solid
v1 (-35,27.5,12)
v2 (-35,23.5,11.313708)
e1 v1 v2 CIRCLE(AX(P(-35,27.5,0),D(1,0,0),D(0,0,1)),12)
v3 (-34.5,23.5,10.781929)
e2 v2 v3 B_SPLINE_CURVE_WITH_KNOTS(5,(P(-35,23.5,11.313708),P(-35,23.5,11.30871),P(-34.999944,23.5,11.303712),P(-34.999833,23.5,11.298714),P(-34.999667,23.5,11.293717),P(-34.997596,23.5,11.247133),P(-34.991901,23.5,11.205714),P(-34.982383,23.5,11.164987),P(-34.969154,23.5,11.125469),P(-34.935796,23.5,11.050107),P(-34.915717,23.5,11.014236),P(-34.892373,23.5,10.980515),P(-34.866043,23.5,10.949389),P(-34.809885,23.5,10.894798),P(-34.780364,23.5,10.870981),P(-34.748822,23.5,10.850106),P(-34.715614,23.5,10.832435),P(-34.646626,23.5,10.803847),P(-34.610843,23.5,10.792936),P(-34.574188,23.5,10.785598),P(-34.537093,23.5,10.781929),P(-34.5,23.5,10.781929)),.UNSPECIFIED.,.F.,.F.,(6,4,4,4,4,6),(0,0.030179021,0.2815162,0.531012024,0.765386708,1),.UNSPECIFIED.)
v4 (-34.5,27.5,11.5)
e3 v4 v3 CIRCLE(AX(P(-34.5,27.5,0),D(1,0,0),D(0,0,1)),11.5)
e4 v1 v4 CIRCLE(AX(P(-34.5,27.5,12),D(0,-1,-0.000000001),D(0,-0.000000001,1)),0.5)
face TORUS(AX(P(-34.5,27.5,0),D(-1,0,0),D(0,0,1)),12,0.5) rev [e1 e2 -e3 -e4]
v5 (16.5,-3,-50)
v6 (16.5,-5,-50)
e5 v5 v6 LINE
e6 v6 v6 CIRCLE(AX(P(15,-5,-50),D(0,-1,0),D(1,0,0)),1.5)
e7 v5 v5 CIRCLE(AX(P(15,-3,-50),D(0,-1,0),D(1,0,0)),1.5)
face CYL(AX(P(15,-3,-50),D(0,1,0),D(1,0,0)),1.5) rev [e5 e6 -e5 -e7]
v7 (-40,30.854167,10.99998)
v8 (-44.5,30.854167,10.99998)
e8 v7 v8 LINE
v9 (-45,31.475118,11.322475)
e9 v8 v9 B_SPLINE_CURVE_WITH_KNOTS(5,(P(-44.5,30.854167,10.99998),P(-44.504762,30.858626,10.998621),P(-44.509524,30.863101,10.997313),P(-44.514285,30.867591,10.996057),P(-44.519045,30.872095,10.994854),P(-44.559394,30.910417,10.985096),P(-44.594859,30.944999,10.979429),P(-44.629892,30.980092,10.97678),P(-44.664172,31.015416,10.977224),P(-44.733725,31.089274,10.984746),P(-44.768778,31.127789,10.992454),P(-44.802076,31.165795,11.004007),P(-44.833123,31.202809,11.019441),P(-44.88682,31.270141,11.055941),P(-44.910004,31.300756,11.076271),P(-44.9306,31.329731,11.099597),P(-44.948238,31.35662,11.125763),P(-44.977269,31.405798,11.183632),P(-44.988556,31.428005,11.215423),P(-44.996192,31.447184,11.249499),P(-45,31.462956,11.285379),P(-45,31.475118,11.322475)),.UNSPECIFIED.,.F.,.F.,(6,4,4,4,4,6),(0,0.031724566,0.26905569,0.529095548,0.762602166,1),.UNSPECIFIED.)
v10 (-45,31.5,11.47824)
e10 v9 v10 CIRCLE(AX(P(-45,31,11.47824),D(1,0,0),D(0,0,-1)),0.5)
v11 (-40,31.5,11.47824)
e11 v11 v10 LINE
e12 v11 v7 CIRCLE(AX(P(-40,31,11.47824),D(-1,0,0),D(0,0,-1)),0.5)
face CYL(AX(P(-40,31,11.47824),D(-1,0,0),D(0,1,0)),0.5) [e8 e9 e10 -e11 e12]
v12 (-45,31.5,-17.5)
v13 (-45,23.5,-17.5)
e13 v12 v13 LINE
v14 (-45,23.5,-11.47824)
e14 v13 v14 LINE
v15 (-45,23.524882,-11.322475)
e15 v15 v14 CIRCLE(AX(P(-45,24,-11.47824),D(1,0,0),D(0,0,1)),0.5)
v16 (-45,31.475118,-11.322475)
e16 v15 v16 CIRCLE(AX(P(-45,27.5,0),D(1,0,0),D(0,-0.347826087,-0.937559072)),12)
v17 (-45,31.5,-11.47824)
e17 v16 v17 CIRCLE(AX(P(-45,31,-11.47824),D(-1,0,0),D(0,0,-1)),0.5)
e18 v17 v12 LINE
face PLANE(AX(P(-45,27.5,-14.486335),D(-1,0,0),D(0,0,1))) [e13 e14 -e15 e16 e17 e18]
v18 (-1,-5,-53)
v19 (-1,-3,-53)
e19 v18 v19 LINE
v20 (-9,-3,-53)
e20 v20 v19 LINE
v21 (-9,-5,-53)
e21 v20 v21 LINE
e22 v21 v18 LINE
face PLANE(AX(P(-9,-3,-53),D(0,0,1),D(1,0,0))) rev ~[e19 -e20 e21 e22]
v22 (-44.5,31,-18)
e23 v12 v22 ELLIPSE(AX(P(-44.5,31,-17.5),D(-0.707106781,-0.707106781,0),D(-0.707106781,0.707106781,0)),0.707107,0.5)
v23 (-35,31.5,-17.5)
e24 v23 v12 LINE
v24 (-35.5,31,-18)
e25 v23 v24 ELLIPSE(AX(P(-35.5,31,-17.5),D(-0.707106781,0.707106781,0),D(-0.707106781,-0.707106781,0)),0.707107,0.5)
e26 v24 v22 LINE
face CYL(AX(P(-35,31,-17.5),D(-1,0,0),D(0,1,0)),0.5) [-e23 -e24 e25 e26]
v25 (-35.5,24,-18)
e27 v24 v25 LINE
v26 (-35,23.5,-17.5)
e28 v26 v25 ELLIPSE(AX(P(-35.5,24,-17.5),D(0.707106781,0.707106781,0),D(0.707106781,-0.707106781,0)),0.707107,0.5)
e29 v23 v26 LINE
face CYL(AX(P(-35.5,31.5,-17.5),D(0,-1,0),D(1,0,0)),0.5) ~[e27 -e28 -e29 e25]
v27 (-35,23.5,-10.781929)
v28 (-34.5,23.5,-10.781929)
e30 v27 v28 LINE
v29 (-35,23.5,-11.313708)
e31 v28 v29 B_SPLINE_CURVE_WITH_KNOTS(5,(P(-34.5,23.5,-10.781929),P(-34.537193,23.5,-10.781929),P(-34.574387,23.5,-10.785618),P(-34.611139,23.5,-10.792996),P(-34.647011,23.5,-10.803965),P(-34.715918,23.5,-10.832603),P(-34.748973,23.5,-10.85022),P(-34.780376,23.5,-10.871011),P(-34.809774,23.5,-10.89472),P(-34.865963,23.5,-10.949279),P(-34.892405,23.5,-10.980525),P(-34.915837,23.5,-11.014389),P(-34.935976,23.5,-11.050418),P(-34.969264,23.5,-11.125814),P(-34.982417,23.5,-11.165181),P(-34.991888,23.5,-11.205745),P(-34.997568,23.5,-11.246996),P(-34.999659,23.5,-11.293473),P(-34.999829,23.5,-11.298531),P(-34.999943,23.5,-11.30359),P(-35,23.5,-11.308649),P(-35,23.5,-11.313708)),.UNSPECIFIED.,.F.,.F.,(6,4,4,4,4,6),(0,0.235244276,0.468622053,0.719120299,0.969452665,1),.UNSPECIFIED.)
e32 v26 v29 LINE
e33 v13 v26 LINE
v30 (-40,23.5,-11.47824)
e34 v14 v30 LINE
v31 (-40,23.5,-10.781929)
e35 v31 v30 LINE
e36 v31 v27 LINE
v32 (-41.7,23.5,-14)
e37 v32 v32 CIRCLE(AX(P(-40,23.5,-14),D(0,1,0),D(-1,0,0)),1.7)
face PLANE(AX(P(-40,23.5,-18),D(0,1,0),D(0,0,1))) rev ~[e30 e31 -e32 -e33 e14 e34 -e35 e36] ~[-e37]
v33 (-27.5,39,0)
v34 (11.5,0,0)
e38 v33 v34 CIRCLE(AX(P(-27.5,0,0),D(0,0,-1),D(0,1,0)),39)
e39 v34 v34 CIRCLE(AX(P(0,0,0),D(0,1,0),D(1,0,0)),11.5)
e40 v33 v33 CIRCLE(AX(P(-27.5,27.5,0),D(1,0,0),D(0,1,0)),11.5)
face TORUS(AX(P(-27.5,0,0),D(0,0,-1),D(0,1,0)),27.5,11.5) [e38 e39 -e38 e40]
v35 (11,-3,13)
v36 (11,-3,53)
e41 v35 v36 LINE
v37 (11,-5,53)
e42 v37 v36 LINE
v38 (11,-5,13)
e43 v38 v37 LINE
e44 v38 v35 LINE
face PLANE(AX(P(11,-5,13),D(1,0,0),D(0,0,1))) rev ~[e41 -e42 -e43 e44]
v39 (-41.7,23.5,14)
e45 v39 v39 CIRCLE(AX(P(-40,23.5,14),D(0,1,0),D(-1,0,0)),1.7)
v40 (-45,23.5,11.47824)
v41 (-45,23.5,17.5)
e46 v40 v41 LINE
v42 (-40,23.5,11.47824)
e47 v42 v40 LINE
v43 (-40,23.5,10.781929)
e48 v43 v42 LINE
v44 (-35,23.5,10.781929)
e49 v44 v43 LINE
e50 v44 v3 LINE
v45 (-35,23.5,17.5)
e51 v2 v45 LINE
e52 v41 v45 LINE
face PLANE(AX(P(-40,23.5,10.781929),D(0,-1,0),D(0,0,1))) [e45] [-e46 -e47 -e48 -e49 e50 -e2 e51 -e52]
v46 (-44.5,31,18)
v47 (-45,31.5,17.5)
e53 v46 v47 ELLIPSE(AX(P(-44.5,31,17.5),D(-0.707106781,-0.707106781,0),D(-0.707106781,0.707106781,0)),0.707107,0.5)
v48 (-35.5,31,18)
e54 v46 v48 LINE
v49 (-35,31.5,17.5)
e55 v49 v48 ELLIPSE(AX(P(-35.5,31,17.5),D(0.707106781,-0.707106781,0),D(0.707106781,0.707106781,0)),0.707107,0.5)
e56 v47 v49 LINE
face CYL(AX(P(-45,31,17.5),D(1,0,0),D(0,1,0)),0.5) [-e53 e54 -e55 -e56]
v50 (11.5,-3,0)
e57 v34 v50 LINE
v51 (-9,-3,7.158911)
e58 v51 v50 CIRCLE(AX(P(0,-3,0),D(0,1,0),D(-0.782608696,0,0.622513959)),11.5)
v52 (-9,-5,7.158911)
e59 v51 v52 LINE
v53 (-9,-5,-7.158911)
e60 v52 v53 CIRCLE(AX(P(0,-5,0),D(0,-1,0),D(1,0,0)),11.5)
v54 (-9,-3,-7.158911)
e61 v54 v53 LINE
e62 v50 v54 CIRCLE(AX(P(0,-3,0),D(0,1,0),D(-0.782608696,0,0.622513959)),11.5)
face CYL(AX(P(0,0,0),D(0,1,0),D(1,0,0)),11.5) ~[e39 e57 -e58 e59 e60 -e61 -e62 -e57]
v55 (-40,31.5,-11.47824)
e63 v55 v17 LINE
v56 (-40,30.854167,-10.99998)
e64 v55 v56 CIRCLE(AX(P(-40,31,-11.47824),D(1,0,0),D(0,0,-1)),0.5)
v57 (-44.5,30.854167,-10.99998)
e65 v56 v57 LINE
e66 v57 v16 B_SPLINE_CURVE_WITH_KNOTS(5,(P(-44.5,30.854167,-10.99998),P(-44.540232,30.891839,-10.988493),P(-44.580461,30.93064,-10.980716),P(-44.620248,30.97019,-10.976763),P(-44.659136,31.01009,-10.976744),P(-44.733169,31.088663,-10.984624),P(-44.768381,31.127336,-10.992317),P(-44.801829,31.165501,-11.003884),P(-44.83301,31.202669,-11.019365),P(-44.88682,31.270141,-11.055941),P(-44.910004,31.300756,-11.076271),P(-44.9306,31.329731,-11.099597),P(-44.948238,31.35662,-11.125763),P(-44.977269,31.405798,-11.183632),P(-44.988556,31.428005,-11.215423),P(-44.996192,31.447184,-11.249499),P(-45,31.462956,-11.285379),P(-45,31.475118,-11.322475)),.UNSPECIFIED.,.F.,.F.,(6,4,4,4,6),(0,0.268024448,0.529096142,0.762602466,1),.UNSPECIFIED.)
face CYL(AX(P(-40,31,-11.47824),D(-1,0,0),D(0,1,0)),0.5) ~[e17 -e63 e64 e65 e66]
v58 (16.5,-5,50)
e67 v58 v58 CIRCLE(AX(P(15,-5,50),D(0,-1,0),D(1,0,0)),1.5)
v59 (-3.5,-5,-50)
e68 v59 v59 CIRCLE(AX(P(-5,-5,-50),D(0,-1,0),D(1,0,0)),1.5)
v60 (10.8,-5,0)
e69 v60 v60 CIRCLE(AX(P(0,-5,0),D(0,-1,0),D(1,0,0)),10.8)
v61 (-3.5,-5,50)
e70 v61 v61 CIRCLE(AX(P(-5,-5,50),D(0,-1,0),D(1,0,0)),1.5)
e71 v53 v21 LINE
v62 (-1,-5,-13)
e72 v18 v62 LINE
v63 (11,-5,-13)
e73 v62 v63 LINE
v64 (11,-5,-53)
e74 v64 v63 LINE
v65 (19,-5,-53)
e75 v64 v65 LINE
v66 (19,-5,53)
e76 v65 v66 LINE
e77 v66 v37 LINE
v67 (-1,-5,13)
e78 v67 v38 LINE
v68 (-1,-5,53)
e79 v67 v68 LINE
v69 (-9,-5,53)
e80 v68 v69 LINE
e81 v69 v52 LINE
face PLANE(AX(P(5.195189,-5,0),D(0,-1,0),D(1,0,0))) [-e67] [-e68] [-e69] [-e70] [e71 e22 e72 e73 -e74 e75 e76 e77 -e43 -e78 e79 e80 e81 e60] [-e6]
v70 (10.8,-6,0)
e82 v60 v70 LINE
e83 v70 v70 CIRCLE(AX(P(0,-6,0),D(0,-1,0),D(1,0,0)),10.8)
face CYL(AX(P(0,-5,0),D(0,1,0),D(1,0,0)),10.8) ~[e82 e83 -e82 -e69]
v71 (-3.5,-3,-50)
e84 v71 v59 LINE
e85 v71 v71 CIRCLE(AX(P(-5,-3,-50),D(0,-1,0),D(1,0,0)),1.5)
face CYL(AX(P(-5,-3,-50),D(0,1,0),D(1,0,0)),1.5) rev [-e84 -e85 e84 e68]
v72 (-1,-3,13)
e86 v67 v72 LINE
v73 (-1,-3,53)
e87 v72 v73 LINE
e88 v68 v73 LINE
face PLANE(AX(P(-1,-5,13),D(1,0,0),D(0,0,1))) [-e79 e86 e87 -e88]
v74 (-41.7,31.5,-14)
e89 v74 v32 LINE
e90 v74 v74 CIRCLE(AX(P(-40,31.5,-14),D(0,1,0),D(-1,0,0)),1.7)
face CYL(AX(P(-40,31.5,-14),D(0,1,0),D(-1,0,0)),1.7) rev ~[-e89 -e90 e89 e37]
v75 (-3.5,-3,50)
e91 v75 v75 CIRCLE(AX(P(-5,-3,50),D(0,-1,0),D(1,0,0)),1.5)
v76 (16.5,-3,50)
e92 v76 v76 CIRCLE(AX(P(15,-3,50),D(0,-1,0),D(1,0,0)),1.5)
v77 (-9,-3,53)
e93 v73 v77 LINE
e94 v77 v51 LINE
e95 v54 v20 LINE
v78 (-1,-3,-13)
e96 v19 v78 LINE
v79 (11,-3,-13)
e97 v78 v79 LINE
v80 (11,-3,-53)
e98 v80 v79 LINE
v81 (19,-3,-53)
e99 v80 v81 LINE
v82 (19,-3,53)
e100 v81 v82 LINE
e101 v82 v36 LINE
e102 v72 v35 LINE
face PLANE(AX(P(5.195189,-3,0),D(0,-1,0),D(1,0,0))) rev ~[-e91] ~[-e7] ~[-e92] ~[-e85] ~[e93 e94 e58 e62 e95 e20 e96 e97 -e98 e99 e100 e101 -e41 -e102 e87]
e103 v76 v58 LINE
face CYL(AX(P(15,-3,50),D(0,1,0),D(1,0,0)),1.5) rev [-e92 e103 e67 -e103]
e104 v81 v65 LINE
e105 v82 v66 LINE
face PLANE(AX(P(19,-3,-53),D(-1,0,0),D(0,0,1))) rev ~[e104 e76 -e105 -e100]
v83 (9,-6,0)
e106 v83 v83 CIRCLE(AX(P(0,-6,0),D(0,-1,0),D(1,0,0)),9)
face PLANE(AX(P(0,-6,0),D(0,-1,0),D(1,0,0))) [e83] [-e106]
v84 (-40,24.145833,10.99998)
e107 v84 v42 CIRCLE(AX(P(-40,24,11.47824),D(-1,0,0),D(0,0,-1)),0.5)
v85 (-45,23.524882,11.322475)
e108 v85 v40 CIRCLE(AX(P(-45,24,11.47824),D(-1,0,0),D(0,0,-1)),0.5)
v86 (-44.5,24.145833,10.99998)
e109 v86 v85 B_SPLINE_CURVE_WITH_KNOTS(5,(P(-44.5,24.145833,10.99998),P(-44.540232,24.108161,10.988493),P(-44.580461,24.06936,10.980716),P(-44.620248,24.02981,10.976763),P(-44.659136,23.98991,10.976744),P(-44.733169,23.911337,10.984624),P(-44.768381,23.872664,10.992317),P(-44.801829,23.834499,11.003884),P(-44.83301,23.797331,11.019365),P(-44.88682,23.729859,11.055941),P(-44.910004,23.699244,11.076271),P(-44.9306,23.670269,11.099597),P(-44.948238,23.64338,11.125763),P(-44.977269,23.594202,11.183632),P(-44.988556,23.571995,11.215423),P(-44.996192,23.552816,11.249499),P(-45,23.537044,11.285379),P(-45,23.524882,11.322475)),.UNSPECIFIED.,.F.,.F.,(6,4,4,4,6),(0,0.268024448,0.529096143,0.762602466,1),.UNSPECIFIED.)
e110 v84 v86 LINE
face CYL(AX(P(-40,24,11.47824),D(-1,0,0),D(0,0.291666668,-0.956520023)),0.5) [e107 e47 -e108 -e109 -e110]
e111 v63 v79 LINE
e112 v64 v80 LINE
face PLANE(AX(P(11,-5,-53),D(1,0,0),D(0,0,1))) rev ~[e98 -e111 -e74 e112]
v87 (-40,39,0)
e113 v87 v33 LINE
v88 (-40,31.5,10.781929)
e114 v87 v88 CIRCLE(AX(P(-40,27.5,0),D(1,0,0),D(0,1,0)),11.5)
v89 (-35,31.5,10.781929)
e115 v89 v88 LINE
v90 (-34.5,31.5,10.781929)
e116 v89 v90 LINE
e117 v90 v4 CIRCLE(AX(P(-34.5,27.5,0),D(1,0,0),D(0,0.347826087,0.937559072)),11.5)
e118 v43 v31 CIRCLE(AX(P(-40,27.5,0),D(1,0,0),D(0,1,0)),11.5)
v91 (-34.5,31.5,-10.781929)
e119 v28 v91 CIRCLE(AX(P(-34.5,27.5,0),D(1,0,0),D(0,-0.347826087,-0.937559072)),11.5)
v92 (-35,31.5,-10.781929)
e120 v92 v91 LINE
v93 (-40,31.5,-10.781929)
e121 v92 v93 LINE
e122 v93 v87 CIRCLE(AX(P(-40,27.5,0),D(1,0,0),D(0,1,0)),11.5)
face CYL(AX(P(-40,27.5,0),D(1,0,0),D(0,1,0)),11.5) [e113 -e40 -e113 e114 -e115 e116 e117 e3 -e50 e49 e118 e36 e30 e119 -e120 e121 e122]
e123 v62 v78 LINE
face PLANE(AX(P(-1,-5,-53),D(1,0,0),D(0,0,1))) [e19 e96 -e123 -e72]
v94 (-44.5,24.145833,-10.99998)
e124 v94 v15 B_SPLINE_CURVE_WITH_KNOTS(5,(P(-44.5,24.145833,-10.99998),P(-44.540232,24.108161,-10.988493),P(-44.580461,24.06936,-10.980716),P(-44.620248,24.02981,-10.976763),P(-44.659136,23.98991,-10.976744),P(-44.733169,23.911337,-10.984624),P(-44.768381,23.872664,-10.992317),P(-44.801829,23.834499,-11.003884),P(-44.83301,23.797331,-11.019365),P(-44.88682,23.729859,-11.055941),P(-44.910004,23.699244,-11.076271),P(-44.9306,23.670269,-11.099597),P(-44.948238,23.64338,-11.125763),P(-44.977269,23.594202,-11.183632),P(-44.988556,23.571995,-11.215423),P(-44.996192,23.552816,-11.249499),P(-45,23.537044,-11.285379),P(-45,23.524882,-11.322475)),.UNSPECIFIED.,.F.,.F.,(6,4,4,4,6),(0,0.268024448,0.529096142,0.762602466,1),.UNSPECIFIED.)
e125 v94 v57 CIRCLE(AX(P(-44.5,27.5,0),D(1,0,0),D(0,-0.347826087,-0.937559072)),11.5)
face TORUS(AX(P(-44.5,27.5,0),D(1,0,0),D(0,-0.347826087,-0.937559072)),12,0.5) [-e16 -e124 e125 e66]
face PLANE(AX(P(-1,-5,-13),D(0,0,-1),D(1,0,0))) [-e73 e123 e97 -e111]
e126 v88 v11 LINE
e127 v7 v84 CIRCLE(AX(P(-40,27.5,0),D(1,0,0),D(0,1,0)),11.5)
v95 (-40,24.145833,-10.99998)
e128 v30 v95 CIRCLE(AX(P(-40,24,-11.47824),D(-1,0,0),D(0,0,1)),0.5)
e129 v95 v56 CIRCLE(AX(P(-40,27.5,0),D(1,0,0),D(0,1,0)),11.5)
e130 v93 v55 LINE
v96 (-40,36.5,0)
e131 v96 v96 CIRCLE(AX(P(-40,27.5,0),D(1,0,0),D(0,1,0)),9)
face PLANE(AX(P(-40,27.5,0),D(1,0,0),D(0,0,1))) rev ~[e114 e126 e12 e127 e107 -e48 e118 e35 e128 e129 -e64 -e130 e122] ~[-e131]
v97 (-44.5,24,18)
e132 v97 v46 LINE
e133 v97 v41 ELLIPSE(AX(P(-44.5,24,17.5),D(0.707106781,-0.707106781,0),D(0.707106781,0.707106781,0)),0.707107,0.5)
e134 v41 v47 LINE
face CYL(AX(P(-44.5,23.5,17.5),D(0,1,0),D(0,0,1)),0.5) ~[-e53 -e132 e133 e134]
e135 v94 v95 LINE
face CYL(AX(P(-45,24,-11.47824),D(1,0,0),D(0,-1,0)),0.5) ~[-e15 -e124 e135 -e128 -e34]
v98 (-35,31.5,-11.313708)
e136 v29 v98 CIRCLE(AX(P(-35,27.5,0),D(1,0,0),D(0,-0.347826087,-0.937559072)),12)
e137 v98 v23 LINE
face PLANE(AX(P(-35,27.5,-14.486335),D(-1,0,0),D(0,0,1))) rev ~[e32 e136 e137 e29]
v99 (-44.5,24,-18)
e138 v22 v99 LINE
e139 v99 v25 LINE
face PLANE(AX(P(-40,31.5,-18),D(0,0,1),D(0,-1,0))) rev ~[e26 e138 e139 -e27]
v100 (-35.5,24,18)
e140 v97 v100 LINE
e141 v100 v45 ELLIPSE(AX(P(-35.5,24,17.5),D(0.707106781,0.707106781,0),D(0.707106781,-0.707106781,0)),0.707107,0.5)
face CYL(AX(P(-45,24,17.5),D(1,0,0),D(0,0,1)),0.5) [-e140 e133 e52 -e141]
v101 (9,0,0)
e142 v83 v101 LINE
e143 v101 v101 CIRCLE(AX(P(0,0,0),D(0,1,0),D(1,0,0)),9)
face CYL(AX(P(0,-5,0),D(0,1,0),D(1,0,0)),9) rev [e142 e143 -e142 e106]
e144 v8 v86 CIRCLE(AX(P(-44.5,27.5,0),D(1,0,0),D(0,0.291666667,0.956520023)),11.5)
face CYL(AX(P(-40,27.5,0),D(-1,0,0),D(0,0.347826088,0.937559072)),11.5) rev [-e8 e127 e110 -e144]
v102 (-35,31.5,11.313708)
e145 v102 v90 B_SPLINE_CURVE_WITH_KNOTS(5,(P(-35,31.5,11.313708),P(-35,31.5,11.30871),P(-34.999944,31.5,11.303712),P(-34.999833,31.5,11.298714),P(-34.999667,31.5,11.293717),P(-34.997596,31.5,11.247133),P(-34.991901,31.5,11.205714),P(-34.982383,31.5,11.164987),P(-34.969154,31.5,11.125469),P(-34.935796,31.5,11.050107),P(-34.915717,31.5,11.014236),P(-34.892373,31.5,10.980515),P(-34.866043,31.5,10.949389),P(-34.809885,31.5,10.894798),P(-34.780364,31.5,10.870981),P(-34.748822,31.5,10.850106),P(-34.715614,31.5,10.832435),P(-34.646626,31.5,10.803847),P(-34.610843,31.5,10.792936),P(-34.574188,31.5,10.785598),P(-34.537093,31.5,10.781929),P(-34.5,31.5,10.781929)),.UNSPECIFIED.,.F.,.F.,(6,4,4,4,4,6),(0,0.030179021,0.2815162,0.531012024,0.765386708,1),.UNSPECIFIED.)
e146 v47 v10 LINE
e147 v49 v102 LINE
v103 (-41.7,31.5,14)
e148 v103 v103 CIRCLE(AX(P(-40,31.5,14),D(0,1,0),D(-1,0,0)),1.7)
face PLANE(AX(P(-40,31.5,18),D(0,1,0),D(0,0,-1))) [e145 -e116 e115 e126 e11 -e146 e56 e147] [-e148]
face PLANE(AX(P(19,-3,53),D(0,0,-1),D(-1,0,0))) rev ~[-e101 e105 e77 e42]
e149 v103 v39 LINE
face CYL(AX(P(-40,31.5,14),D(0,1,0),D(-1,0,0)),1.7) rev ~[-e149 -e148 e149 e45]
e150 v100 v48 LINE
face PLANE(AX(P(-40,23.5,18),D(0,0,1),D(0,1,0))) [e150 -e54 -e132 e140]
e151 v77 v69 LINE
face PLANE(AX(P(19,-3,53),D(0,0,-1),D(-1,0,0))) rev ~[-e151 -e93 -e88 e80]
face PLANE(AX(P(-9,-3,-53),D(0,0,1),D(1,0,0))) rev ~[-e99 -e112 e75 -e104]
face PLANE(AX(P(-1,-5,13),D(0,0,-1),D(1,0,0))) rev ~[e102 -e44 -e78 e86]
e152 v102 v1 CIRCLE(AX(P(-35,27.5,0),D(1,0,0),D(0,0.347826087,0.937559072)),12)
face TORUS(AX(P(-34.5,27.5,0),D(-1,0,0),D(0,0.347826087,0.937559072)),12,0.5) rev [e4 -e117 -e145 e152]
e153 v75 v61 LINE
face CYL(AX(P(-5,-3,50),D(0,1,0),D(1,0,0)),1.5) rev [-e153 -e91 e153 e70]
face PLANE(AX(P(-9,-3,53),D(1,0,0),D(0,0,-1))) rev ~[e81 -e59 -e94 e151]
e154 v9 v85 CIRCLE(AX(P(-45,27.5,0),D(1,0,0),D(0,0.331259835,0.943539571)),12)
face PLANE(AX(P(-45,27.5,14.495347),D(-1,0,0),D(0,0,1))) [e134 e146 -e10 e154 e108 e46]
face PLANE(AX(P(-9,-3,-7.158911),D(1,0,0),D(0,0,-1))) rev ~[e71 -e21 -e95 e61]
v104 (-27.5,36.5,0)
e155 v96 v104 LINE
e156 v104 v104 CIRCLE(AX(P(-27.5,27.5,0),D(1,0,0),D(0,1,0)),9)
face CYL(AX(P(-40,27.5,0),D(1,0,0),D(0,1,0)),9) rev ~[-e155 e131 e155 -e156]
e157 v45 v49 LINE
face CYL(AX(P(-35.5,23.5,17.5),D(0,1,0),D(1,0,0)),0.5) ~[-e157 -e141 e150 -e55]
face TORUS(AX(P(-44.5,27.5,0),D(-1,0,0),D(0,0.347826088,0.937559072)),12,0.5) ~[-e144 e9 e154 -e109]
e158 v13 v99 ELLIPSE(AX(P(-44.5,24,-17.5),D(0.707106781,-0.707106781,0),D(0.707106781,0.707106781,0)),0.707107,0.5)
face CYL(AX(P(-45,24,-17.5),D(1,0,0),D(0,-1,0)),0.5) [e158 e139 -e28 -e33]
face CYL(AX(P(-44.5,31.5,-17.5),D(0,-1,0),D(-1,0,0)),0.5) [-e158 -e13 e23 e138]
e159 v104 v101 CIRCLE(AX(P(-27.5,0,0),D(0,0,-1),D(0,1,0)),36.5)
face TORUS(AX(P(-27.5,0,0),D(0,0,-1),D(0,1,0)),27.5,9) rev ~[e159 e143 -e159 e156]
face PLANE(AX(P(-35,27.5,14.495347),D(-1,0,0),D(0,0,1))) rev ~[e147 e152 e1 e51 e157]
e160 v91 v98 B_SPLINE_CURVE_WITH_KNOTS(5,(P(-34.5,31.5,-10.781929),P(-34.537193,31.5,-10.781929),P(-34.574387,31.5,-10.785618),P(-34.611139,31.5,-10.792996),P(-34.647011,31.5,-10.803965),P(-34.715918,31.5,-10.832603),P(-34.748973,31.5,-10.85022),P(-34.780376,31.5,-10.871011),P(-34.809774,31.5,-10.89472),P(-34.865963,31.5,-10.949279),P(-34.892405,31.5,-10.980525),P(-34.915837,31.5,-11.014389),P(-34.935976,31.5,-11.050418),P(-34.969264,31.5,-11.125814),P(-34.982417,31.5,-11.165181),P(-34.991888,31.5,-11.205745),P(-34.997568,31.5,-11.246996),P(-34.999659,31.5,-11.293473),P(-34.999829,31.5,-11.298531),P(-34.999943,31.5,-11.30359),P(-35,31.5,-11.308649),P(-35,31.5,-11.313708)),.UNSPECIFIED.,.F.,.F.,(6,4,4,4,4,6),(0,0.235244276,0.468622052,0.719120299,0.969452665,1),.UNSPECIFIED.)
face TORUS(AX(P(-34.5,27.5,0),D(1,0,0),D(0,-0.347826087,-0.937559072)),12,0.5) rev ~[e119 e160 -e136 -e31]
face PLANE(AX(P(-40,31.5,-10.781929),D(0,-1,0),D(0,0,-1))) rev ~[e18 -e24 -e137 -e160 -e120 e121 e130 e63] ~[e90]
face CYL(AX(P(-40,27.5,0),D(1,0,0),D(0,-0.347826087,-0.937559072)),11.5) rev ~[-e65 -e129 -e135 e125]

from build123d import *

# Parameters (mm, degrees)
SWEEP_1_PROFILE_R   = 11.5
SWEEP_1_PROFILE_R_2 = 9
EXTRUDE_1_DEPTH     = 5
SKETCH_31_R         = 1.7
CUT_EXTRUDE_1_DEPTH = 26
FILLET_1_R          = 0.5
SKETCH_32_R         = 11.5
SKETCH_32_R_2       = 9
EXTRUDE_2_DEPTH     = 5
EXTRUDE_START       = -2
SKETCH_33_R         = 1.5
EXTRUDE_3_DEPTH     = 2
SKETCH_34_W         = 12
SKETCH_34_H         = 40
CUT_EXTRUDE_2_DEPTH = 2
SKETCH_35_R         = 10.8
SKETCH_35_R_2       = 9
EXTRUDE_4_DEPTH     = 1


with BuildPart() as part:
    # 扫描-薄件1: sweep along a path in 草图1
    with BuildLine(Plane.XY) as sweep_1_path:
        Line((-40, 27.5), (-27.5, 27.5))
        ThreePointArc((-27.5, 27.5), (-8.054563517, 19.445436483), (0, 0))
    # 扫描-薄件1 profile (on start of the path) → 扫描-薄件1 (sweep)
    with BuildSketch(Plane(origin=(-40, 27.5, 0), x_dir=(0, 1, 0), z_dir=(1, 0, 0))):
        Circle(SWEEP_1_PROFILE_R)
        Circle(SWEEP_1_PROFILE_R_2, mode=Mode.SUBTRACT)
    sweep(path=sweep_1_path.line)

    # 草图30 → 凸台-拉伸1 (add, symmetric)
    with BuildSketch(Plane.ZY.offset(40)):
        with BuildLine():
            ThreePointArc((-10.781929326, 23.5), (-11.5, 27.5), (-10.781929326, 31.5))
            Line((-10.781929326, 31.5), (-18, 31.5))
            Line((-18, 31.5), (-18, 23.5))
            Line((-18, 23.5), (-10.781929326, 23.5))
        make_face()
        with BuildLine():
            Line((18, 31.5), (10.781929326, 31.5))
            ThreePointArc((10.781929326, 31.5), (11.319058867, 29.531971056), (11.5, 27.5))
            ThreePointArc((11.5, 27.5), (11.319058867, 25.468028944), (10.781929326, 23.5))
            Line((10.781929326, 23.5), (18, 23.5))
            Line((18, 23.5), (18, 31.5))
        make_face()
    extrude(amount=EXTRUDE_1_DEPTH, both=True)

    # 草图31 → 切除-拉伸1 (cut)
    with BuildSketch(Plane(origin=(0, 31.5, 0), x_dir=(1, 0, 0), z_dir=(0, 1, 0))):
        with Locations(Location((-40, 14, 0), (0, 0, 180))):
            Circle(SKETCH_31_R)
        with Locations(Location((-40, -14, 0), (0, 0, 180))):
            Circle(SKETCH_31_R)
    extrude(amount=-CUT_EXTRUDE_1_DEPTH, mode=Mode.SUBTRACT)

    # 圆角1
    fillet_1_edges = [part.edges().sort_by_distance(p)[0] for p in [
        (-35, 27.5, -18),
        (-40, 31.5, -18),
        (-40, 23.5, -18),
        (-42.5, 23.5, -10.781929326),
        (-45, 27.5, -11.5),
        (-42.5, 31.5, -10.781929326),
        (-45, 27.5, -18),
        (-35, 27.5, -11.5),
        (-42.5, 31.5, 10.781929326),
        (-45, 27.5, 11.5),
        (-42.5, 23.5, 10.781929326),
        (-45, 27.5, 18),
        (-40, 23.5, 18),
        (-40, 31.5, 18),
        (-35, 27.5, 11.5),
        (-35, 27.5, 18),
    ]]
    fillet(fillet_1_edges, radius=FILLET_1_R)

    # 草图32 → 凸台-拉伸2 (add)
    with BuildSketch(Plane.XZ):
        Circle(SKETCH_32_R)
        Circle(SKETCH_32_R_2, mode=Mode.SUBTRACT)
    extrude(amount=EXTRUDE_2_DEPTH)

    # 草图33 → 凸台-拉伸3 (add)
    with BuildSketch(Plane.XZ.offset(5).offset(EXTRUDE_START)):
        with BuildLine():
            Line((-9, -7.158910532), (-9, -53))
            Line((-9, -53), (19, -53))
            Line((19, -53), (19, 53))
            Line((19, 53), (-9, 53))
            Line((-9, 53), (-9, 7.158910532))
            ThreePointArc((-9, 7.158910532), (11.5, 0), (-9, -7.158910532))
        make_face()
        with Locations((-5, 50)):
            Circle(SKETCH_33_R, mode=Mode.SUBTRACT)
        with Locations((15, 50)):
            Circle(SKETCH_33_R, mode=Mode.SUBTRACT)
        with Locations((-5, -50)):
            Circle(SKETCH_33_R, mode=Mode.SUBTRACT)
        with Locations((15, -50)):
            Circle(SKETCH_33_R, mode=Mode.SUBTRACT)
    extrude(amount=EXTRUDE_3_DEPTH)

    # 草图34 → 切除-拉伸2 (cut)
    with BuildSketch(Plane.XZ.offset(5)):
        with Locations((5, 33)):
            Rectangle(SKETCH_34_W, SKETCH_34_H)
        with Locations((5, -33)):
            Rectangle(SKETCH_34_W, SKETCH_34_H)
    extrude(amount=-CUT_EXTRUDE_2_DEPTH, mode=Mode.SUBTRACT)

    # 草图35 → 凸台-拉伸4 (add)
    with BuildSketch(Plane.XZ.offset(5)):
        Circle(SKETCH_35_R)
        Circle(SKETCH_35_R_2, mode=Mode.SUBTRACT)
    extrude(amount=EXTRUDE_4_DEPTH)


solid = part.part
